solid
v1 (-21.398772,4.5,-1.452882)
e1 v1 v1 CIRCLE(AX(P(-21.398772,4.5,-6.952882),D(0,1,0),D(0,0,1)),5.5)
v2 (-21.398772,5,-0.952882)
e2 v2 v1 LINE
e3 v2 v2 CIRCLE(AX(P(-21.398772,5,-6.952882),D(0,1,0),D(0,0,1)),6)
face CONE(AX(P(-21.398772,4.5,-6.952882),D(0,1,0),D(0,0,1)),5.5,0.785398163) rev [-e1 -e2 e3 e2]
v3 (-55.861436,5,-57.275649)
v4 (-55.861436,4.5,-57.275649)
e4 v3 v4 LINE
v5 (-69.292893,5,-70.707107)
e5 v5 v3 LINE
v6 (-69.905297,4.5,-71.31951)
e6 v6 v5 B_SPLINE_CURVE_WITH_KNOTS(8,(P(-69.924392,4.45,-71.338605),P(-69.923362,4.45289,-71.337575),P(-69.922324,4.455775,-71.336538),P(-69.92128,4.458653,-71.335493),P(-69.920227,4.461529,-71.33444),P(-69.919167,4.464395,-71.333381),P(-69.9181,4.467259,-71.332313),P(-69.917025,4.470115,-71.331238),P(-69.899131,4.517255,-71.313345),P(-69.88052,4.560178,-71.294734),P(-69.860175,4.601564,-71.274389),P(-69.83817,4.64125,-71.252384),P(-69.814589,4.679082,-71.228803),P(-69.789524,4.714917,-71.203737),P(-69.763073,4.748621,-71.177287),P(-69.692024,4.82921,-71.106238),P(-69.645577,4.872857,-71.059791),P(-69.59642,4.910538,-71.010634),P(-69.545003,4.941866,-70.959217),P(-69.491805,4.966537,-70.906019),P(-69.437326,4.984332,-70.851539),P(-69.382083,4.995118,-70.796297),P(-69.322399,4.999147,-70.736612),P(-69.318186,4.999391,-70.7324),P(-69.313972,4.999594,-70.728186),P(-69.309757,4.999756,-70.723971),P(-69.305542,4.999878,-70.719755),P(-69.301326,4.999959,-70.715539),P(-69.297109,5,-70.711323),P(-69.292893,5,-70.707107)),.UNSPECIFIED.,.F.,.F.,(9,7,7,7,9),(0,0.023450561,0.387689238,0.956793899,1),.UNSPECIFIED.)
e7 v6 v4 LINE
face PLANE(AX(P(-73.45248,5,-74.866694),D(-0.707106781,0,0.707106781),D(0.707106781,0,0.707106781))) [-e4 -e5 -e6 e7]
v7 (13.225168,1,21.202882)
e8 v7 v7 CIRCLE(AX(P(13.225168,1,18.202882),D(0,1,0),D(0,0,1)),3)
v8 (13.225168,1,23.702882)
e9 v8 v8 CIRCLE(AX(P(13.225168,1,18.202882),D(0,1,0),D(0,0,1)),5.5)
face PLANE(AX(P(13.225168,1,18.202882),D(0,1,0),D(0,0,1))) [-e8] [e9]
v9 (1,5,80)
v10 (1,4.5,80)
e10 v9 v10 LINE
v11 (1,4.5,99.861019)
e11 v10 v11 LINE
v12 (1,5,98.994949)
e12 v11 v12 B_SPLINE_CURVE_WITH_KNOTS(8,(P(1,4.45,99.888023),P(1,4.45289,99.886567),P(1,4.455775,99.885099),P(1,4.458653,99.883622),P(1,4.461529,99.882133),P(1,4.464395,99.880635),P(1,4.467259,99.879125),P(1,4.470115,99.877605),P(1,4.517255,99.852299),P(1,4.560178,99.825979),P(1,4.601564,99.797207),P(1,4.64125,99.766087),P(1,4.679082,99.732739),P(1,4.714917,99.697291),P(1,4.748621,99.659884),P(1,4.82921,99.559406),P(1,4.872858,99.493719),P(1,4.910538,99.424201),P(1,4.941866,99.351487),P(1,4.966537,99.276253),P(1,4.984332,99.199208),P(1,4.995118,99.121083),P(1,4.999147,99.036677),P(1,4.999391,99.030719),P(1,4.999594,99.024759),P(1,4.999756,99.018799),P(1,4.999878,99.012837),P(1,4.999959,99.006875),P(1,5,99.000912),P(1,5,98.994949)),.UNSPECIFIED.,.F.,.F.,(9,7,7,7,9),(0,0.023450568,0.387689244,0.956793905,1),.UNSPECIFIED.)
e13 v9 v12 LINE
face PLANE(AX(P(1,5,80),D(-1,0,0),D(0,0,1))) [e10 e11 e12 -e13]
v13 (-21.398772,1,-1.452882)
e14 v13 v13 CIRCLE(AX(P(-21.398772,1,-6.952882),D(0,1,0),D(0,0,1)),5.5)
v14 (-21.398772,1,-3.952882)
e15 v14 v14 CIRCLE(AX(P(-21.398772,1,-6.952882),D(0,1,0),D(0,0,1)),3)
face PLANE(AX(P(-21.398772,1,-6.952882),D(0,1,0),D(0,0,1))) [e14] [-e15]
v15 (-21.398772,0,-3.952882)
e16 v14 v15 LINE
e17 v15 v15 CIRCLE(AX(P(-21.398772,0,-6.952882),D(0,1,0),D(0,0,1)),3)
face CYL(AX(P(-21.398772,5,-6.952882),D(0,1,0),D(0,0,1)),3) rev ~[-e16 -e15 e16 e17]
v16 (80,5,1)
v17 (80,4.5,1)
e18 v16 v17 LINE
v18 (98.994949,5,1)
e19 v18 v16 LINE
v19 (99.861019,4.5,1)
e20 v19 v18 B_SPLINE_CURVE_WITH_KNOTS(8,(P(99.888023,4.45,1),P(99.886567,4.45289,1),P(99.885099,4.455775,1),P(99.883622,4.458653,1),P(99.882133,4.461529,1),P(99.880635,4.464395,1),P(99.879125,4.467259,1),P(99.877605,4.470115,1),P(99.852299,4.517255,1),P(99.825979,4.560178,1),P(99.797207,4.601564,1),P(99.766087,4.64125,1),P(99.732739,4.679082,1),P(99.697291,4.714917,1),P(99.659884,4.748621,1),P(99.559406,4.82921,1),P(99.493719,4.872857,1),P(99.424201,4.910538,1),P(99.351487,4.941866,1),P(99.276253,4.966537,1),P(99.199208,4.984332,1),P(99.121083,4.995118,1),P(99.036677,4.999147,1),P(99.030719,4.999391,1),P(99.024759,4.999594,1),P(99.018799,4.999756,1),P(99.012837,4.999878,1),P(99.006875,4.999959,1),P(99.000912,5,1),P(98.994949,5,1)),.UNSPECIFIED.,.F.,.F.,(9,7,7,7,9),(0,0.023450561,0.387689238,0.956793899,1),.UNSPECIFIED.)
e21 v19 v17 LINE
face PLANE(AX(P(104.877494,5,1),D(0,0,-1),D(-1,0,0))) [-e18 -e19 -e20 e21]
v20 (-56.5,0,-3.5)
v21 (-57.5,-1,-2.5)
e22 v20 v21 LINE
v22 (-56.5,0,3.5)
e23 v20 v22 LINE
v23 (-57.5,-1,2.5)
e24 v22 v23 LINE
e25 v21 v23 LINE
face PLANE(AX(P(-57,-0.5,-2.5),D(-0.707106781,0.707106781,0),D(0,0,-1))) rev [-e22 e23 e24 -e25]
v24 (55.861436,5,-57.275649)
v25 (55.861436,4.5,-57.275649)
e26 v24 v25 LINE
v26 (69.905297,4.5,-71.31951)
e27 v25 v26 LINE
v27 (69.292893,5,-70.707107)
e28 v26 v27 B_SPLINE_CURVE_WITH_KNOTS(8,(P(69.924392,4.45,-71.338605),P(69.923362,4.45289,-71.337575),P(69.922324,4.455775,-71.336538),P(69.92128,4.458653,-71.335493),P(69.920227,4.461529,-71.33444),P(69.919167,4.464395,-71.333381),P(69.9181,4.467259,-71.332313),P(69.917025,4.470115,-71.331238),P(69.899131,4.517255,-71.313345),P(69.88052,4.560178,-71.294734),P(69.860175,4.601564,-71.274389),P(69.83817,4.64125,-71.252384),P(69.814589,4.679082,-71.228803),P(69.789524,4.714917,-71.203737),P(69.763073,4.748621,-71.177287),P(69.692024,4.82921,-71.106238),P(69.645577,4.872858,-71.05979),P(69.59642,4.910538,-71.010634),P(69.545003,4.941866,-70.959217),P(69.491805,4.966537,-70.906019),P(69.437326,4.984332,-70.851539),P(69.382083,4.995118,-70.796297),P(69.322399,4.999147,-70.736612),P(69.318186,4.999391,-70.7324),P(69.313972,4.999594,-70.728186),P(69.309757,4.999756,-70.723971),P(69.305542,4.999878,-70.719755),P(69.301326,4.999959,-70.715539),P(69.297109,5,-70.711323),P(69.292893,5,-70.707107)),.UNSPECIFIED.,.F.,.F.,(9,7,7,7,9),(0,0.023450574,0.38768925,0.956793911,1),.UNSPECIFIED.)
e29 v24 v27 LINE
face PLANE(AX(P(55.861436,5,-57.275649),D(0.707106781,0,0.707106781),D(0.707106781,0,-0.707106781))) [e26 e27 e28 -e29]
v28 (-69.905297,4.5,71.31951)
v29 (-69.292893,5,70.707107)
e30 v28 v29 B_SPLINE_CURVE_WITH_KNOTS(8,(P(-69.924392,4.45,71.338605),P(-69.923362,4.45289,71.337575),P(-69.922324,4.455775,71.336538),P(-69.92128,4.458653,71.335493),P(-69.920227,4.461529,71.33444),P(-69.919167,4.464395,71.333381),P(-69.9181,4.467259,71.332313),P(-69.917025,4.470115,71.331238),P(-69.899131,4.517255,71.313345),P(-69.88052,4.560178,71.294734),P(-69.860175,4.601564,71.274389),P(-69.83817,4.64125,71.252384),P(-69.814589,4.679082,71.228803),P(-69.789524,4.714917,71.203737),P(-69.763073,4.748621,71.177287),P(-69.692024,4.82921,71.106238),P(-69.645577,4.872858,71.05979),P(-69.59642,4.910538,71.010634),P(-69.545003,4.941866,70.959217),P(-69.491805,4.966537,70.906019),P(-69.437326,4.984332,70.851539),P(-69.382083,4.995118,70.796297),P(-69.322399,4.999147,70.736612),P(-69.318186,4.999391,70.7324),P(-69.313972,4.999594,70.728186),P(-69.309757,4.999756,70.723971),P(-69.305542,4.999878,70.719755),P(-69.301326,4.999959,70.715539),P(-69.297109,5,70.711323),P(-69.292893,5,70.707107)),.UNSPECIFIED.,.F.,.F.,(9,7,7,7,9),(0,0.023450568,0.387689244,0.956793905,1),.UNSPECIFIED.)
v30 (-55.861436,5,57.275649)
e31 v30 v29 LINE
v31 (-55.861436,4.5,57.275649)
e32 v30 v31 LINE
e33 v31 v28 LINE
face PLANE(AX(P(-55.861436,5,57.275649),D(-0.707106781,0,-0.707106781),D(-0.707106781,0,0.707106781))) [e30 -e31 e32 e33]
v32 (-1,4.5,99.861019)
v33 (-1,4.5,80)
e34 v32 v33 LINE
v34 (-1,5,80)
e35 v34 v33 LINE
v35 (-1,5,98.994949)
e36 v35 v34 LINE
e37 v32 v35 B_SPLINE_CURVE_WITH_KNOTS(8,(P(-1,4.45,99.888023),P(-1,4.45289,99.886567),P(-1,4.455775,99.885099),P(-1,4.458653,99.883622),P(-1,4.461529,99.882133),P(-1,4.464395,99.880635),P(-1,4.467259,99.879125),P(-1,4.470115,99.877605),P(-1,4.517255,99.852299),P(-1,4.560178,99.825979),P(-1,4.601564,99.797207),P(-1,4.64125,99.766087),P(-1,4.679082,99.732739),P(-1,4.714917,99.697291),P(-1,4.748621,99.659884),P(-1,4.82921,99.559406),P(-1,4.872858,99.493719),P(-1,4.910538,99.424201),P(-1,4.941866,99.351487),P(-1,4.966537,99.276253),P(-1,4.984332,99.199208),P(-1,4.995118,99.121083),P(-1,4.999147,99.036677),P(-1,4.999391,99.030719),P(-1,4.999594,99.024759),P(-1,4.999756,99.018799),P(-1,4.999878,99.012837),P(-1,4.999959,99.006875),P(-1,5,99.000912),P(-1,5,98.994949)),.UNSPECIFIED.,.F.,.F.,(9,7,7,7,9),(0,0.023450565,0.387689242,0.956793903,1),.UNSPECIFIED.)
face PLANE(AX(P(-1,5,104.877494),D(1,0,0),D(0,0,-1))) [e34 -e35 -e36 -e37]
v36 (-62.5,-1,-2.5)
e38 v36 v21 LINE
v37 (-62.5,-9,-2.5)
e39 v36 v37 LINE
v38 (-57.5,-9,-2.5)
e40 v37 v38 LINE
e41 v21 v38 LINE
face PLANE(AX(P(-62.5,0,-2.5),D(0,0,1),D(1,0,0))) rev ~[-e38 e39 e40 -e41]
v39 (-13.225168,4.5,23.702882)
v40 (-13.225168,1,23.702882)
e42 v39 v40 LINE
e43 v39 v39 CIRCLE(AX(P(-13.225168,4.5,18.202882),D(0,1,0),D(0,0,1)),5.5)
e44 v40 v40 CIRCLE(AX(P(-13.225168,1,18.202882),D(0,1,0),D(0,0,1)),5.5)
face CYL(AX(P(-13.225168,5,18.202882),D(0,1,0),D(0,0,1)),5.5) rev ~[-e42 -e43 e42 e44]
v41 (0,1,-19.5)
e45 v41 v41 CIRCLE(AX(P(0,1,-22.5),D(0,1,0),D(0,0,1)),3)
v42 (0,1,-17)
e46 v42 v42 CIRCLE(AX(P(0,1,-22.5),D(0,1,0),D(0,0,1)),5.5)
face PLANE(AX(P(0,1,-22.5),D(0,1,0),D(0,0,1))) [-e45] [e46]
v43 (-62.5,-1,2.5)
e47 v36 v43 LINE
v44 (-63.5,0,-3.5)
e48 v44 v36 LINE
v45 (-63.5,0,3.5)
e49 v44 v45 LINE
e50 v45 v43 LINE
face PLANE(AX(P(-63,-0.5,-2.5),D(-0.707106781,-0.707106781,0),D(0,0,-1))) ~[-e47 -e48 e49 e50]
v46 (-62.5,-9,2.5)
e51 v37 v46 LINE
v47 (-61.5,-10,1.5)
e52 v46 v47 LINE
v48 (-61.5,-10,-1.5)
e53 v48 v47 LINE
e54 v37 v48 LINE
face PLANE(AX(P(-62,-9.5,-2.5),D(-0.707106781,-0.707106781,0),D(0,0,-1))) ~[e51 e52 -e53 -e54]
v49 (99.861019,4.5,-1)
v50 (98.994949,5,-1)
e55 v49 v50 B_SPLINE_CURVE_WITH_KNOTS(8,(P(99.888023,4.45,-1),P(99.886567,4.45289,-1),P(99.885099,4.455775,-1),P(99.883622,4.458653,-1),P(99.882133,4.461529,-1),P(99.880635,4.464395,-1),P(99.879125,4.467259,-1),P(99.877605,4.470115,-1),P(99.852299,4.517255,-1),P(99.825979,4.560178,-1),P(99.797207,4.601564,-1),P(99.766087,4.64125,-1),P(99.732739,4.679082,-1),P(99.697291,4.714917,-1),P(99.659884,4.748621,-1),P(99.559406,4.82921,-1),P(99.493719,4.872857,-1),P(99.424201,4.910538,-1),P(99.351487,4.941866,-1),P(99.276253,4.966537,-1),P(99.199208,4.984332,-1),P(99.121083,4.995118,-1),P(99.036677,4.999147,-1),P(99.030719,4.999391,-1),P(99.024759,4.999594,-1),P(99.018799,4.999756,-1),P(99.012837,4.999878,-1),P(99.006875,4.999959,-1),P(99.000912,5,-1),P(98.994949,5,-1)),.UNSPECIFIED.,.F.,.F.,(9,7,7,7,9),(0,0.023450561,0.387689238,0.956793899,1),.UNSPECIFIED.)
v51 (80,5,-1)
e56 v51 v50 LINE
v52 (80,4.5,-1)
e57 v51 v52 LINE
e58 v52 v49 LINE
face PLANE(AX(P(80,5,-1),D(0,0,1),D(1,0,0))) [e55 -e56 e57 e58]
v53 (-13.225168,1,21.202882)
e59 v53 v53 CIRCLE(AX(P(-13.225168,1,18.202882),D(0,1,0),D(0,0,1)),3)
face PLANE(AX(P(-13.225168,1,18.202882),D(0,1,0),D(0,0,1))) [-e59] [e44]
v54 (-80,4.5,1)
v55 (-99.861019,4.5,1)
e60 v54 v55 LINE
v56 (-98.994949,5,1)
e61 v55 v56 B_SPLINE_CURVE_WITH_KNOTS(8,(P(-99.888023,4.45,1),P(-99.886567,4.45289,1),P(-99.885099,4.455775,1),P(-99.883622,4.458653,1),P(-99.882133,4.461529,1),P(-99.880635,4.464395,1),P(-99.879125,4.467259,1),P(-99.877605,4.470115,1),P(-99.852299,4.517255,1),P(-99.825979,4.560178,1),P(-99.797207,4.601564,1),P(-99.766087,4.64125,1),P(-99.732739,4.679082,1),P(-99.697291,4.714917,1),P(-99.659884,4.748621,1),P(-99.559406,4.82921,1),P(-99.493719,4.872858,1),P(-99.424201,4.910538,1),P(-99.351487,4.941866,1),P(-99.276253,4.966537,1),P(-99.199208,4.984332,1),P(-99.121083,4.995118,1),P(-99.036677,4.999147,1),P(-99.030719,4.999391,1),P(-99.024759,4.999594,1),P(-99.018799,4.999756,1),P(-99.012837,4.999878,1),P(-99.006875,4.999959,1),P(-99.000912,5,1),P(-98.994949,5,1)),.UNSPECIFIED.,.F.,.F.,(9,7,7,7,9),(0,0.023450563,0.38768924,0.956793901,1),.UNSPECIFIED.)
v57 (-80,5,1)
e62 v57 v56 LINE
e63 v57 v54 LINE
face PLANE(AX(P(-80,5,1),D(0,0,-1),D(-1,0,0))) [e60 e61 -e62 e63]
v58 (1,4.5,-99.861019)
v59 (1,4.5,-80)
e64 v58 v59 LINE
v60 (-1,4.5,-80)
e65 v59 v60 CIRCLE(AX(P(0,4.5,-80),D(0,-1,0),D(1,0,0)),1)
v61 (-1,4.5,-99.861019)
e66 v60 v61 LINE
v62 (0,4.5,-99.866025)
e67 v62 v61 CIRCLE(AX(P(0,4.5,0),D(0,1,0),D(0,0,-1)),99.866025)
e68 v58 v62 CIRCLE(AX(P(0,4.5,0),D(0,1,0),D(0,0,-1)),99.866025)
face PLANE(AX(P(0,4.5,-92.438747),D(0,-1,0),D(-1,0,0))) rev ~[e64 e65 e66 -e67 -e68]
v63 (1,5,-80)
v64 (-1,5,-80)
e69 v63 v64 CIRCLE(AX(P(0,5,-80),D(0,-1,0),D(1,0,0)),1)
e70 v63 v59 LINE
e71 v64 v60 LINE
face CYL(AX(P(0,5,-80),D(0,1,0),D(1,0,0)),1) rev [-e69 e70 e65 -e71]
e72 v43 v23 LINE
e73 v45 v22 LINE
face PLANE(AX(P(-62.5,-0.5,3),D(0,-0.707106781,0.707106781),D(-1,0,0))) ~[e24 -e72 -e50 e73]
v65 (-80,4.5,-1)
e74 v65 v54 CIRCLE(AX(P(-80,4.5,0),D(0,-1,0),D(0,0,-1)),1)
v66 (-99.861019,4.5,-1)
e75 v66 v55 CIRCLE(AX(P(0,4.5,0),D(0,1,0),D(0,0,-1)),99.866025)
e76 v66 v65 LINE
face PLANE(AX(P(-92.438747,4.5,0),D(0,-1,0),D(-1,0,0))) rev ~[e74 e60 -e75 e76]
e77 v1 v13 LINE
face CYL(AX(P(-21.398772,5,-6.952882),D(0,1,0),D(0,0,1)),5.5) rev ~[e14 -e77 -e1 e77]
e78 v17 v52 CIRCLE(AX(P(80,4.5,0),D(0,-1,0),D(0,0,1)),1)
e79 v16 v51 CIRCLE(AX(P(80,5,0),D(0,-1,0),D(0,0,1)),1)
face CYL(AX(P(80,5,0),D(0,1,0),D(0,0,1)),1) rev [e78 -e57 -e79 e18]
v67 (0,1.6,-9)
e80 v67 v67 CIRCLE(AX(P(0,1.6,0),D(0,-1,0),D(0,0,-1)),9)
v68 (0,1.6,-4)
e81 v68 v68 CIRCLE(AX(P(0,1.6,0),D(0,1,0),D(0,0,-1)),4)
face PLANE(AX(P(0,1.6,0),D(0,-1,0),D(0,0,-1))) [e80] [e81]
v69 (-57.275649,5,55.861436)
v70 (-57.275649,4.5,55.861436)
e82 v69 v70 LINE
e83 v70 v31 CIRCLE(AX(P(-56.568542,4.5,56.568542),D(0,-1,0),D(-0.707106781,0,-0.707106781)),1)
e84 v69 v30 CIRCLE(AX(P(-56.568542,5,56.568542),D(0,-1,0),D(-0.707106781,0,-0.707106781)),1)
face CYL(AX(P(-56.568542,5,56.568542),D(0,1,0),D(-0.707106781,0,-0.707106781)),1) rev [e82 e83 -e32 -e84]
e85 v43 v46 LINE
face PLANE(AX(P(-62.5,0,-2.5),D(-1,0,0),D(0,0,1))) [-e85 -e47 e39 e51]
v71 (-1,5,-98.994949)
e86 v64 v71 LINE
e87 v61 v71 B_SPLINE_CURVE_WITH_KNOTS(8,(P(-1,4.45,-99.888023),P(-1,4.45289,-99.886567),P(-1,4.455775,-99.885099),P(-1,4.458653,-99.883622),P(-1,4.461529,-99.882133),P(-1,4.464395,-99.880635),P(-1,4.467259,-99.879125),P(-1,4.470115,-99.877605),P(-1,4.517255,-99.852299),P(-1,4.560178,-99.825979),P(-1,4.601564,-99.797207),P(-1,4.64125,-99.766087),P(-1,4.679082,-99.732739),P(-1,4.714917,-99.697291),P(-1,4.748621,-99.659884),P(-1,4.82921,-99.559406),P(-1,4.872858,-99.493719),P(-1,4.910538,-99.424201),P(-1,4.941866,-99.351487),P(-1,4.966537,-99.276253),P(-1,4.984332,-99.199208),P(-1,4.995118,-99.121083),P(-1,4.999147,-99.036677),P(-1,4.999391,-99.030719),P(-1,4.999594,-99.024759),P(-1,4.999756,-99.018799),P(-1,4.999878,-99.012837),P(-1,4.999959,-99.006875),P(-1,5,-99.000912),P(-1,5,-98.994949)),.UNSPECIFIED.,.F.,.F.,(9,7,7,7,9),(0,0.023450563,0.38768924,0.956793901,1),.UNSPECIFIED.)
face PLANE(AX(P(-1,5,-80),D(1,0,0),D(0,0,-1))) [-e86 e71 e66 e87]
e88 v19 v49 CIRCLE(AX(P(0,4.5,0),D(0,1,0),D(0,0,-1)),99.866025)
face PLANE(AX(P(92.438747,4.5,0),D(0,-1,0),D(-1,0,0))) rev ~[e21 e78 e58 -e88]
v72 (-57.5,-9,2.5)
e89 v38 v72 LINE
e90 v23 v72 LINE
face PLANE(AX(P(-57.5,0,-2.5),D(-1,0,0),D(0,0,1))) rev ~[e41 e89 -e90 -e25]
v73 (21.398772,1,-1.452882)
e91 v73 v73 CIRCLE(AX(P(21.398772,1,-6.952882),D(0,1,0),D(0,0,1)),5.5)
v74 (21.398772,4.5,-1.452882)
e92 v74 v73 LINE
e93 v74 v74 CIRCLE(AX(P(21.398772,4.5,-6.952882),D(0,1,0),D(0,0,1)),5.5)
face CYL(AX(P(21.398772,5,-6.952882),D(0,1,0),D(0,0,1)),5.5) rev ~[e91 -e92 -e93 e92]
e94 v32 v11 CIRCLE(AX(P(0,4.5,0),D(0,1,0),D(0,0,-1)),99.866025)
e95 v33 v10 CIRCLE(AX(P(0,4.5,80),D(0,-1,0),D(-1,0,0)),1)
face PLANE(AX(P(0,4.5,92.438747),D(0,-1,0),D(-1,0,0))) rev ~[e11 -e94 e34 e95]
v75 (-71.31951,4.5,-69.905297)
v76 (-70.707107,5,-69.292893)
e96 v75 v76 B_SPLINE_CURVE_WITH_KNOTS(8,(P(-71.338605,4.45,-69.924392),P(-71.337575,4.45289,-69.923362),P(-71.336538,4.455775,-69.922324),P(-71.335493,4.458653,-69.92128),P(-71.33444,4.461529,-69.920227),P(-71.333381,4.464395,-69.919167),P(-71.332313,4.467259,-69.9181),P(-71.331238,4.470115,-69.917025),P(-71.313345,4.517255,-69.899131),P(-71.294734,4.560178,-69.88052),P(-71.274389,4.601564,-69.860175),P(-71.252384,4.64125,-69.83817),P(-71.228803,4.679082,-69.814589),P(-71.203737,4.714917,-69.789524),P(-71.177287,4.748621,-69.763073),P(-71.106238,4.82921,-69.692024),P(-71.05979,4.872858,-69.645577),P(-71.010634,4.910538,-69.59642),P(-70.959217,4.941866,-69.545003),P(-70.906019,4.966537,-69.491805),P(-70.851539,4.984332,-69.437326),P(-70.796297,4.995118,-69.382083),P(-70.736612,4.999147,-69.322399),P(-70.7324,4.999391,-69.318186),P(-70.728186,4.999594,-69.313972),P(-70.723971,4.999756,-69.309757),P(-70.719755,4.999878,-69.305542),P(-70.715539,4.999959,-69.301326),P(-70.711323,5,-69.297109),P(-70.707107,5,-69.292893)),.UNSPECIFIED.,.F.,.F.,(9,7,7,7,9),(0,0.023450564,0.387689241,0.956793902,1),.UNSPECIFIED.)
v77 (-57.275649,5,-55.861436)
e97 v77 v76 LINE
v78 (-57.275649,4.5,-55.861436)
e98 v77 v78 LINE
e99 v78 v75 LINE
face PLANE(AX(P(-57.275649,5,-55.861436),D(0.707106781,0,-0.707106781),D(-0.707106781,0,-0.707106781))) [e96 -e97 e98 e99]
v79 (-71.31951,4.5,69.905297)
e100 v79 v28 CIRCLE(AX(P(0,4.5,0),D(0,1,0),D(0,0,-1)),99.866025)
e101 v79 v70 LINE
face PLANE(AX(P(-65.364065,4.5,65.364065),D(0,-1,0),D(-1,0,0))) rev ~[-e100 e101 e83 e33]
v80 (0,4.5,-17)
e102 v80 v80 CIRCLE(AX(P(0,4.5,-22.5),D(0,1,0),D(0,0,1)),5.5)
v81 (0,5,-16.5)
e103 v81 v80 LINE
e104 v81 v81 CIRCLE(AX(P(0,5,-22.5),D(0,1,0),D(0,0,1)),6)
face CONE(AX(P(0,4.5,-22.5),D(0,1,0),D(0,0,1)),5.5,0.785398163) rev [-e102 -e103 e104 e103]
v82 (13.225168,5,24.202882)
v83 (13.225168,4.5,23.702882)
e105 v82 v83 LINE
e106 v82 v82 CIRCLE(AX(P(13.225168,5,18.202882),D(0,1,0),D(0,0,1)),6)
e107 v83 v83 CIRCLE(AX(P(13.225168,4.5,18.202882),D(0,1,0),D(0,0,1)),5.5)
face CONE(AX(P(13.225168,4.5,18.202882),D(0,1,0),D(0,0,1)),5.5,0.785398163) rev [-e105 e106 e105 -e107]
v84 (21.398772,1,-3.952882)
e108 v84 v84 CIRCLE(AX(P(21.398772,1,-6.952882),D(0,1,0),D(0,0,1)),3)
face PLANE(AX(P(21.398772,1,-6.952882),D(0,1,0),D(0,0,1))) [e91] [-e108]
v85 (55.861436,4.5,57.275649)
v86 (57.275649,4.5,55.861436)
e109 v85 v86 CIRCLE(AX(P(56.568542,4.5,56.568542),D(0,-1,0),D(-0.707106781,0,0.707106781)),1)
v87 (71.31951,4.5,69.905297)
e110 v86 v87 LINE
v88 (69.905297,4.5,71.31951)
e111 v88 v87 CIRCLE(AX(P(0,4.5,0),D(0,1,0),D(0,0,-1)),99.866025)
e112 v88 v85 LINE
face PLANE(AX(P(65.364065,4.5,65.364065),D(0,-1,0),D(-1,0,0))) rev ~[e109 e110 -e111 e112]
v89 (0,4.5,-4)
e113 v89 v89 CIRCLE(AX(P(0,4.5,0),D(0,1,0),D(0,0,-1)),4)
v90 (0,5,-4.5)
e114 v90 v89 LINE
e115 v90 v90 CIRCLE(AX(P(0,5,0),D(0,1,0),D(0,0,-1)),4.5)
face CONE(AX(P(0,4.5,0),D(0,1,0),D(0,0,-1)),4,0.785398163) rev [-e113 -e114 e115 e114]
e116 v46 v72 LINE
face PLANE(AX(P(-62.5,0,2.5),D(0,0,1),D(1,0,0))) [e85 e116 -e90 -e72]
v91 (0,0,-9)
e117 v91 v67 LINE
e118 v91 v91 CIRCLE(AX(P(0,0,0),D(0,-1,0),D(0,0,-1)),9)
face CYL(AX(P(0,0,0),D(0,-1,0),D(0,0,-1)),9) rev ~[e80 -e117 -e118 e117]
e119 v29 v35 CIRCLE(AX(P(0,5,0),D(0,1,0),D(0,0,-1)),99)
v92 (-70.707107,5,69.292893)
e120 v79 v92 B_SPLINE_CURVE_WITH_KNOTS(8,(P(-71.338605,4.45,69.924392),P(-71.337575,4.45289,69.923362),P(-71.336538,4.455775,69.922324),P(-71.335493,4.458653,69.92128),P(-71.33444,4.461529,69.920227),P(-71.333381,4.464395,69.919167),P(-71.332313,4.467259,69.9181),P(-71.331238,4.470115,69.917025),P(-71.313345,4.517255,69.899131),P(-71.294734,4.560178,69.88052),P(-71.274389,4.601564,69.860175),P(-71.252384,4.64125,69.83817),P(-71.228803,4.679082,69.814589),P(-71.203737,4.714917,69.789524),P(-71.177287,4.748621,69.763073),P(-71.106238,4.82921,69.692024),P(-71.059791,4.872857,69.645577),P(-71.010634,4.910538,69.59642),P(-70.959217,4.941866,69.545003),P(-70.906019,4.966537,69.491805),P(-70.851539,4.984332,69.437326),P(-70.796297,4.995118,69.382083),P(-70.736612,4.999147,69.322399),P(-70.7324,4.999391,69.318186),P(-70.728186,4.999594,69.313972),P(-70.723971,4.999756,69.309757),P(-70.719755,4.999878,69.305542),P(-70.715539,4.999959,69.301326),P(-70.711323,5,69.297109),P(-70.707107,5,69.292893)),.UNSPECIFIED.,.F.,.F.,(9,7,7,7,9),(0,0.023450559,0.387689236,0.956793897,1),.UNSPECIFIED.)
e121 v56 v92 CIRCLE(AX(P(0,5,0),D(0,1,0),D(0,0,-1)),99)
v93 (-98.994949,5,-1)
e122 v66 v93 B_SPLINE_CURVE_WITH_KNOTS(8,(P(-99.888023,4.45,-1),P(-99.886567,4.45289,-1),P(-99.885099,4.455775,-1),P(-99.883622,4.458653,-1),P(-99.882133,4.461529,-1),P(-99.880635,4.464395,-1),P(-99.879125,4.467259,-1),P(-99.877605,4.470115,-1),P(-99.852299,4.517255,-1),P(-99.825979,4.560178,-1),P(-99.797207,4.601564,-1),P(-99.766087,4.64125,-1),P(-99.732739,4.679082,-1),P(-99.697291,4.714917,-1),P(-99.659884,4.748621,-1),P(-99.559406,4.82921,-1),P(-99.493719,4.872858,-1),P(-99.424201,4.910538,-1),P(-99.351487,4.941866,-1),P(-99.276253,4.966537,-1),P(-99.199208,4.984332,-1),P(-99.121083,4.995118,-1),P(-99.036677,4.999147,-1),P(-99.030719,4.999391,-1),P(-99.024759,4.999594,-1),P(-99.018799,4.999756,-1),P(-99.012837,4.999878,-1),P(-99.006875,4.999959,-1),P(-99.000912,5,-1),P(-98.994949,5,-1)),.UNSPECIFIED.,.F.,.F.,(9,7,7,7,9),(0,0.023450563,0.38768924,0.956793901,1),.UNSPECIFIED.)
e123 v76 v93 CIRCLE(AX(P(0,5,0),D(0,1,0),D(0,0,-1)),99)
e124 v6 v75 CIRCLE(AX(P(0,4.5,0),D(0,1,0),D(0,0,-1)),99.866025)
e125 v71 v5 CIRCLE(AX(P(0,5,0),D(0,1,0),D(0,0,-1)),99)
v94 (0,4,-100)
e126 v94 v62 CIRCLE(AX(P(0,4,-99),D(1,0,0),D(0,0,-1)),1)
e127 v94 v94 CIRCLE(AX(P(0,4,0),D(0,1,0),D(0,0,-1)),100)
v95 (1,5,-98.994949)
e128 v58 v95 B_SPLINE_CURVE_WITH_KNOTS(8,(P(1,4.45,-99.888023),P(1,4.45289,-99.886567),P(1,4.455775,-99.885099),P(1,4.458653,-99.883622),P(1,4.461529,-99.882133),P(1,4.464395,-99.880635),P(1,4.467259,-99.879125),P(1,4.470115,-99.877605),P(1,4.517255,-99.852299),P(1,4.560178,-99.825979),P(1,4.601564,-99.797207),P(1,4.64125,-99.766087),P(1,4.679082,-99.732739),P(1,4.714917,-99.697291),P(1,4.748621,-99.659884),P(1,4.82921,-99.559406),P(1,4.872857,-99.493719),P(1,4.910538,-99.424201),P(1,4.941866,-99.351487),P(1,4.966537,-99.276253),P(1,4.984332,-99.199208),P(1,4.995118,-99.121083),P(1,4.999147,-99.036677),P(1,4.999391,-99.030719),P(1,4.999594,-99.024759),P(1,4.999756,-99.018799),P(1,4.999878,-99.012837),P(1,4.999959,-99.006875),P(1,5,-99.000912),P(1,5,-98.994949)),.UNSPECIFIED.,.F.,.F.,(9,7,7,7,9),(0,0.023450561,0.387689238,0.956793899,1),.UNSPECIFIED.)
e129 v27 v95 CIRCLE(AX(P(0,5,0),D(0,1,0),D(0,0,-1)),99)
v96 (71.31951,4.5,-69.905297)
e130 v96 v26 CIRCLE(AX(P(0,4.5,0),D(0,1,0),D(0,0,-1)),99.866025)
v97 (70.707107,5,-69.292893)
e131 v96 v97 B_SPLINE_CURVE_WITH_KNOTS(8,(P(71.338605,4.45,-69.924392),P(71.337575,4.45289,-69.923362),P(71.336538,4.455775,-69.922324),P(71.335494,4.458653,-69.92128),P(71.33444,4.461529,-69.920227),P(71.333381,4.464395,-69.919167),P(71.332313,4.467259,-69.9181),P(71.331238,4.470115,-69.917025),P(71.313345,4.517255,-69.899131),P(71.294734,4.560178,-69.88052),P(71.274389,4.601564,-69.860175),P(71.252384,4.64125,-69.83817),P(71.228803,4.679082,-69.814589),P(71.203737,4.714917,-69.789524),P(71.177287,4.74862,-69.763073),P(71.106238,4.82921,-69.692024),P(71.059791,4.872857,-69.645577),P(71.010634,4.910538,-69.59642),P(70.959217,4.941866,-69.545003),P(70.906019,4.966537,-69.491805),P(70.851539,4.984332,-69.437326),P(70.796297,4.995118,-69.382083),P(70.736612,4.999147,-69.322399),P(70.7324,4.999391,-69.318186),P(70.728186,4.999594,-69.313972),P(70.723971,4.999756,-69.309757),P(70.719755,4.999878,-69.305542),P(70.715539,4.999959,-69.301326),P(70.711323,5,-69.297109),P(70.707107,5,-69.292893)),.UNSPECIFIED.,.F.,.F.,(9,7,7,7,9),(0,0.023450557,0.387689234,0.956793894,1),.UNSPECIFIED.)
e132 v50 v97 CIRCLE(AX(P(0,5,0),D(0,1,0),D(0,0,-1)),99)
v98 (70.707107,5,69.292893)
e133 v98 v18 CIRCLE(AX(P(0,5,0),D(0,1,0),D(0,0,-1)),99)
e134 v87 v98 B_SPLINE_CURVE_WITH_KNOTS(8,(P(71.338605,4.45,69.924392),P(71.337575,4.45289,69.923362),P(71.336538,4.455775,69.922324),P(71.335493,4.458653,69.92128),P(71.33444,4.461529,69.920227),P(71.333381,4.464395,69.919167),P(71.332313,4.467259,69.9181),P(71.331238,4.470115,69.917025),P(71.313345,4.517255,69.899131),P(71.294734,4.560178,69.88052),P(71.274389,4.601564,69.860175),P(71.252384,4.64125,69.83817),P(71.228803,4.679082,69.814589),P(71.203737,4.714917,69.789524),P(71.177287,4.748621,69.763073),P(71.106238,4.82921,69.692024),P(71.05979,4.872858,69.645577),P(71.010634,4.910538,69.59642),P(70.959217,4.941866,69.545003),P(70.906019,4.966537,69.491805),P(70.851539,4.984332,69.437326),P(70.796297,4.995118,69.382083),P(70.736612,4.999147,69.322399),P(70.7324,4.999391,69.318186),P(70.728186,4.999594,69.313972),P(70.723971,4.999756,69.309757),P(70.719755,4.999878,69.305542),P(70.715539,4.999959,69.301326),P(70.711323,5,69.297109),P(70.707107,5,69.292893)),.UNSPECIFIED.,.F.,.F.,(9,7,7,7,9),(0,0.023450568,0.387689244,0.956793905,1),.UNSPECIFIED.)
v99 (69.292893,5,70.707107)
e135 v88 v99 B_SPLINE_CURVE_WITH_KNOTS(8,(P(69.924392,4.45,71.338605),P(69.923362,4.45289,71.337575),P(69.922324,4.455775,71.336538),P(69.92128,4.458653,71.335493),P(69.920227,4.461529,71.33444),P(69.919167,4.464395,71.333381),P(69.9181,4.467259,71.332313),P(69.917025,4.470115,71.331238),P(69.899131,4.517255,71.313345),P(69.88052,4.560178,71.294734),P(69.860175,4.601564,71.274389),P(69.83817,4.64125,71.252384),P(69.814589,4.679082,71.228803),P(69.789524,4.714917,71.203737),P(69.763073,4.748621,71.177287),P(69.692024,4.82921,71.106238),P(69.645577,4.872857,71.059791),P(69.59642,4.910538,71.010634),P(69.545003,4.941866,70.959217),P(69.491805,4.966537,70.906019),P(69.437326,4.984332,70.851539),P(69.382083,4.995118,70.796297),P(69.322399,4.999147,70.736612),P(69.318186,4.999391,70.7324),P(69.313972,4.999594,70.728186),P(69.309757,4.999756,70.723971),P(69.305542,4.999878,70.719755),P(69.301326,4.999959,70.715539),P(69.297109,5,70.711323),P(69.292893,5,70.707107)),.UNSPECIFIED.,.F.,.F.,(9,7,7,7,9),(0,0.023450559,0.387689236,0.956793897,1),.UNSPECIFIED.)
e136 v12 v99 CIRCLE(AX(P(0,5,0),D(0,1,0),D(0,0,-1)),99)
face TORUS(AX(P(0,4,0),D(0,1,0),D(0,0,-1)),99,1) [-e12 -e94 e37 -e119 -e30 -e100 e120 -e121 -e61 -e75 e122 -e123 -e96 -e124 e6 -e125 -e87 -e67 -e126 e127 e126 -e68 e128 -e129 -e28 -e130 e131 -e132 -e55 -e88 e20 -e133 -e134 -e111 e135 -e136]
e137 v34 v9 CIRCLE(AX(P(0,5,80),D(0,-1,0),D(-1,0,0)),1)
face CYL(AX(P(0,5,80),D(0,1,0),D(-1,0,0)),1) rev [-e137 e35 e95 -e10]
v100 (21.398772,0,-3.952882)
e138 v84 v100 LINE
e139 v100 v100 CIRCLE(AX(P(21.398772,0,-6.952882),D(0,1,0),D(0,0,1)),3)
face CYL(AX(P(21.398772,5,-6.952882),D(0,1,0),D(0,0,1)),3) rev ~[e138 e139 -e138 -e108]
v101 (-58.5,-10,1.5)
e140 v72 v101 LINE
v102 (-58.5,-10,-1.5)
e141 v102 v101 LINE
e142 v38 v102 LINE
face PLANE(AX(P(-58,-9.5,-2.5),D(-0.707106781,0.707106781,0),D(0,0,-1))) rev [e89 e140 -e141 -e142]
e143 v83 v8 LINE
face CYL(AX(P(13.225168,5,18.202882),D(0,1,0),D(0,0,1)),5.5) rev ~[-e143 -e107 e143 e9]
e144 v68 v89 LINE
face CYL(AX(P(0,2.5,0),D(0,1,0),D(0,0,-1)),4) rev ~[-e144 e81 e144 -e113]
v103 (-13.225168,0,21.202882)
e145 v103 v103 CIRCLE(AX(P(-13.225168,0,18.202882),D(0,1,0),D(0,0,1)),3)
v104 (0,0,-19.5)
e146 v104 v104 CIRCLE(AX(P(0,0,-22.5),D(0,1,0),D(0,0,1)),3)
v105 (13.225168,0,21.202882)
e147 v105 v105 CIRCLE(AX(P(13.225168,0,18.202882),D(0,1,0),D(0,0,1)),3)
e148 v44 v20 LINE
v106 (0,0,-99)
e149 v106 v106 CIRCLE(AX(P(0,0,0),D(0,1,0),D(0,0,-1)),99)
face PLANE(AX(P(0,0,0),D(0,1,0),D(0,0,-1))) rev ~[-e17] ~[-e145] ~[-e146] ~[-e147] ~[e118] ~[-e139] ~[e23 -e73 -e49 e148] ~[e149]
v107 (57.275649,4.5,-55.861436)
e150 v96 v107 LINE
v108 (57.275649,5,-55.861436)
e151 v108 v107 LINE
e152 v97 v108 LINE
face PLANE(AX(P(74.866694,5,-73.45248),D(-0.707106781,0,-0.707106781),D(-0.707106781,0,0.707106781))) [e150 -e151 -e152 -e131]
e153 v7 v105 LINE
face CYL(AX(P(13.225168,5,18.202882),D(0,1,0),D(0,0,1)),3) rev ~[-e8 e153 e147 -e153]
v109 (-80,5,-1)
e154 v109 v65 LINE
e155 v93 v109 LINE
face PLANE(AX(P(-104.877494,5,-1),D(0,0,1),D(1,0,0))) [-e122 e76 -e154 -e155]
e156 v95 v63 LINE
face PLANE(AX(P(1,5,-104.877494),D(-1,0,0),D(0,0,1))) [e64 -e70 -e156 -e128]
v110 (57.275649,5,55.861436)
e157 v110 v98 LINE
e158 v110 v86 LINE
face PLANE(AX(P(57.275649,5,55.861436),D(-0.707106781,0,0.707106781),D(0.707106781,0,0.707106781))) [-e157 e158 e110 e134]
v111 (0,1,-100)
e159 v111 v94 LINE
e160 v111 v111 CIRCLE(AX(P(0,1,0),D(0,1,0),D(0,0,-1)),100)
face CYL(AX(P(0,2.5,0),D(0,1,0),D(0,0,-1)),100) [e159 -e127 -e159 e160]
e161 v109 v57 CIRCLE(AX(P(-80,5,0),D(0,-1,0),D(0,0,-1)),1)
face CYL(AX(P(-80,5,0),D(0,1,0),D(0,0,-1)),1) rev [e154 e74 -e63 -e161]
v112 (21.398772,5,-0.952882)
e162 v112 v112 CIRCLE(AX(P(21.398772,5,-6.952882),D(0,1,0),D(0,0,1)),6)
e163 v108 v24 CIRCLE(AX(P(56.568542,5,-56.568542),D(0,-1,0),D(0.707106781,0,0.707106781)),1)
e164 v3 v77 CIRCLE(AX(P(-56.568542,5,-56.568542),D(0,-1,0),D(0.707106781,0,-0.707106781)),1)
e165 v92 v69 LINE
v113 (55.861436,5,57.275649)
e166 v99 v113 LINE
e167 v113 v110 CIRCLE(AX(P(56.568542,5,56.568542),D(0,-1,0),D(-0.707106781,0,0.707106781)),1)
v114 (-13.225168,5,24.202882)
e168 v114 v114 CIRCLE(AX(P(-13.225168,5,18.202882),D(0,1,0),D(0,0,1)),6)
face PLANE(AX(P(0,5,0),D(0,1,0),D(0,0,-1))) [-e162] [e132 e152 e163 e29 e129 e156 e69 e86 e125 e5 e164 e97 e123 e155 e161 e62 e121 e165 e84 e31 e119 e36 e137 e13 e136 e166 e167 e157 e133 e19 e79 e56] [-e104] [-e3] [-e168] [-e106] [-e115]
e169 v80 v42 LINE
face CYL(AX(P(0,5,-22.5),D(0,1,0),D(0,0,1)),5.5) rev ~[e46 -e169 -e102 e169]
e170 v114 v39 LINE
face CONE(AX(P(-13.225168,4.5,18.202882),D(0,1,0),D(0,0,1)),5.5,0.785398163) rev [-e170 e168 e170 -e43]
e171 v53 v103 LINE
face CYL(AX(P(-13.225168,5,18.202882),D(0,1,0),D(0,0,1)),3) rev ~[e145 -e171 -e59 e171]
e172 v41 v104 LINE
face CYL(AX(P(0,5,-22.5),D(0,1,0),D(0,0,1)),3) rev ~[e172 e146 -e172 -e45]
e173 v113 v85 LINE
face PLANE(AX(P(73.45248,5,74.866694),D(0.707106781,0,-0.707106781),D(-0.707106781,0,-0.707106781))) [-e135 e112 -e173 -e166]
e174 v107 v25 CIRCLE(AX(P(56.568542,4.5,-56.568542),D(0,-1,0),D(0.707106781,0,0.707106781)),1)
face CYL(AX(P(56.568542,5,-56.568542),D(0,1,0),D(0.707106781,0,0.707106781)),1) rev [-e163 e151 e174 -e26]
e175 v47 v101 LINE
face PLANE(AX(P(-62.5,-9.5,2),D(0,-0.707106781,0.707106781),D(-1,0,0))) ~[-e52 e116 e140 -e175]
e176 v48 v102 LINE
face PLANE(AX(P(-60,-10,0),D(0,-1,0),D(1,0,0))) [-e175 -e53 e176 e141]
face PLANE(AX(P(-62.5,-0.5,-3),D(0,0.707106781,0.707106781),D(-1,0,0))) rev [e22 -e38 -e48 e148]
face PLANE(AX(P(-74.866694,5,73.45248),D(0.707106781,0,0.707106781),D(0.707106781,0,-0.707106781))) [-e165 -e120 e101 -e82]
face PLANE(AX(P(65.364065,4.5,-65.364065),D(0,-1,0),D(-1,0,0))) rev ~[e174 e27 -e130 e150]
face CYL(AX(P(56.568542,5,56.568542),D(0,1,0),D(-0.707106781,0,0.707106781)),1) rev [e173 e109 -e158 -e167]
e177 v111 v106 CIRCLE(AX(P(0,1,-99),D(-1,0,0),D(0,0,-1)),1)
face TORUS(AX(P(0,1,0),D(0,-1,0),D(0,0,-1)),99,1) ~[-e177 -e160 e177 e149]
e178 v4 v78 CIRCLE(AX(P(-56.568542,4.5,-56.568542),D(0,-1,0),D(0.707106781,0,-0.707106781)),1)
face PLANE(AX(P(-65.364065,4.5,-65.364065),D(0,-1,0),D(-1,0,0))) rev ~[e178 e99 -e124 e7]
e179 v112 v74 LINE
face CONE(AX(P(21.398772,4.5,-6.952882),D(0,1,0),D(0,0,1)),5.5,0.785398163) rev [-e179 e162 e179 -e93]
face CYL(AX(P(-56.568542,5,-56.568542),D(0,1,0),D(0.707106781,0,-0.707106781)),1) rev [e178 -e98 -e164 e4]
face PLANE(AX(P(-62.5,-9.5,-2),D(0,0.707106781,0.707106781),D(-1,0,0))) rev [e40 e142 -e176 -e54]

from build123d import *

# Parameters (mm, degrees)
SKICA1_W                 = 96
SKICA1_H                 = 5
SKICA2_R                 = 3
ODEBRAT_VYSUNUT_M1_DEPTH = 5
ZAOBLIT1_R               = 1
SKICA3_R                 = 5.5
ODEBRAT_VYSUNUT_M2_DEPTH = 4
ZKOSEN_2_SIZE            = 0.5
SKICA4_R                 = 9
ODEBRAT_VYSUNUT_M3_DEPTH = 1.6
ZKOSEN_3_SIZE            = 0.5
SKICA5_W                 = 5
SKICA5_H                 = 5
P_IDAT_VYSUNUT_M1_DEPTH  = 10
ZKOSEN_8_SIZE            = 1
ODEBRAT_VYSUNUT_M4_DEPTH = 0.5


with BuildPart() as part:
    # Skica1 → Rotovat1 (revolve)
    with BuildSketch(Plane.XY, mode=Mode.PRIVATE) as rotovat1_sk:
        with Locations((-52, 2.5)):
            Rectangle(SKICA1_W, SKICA1_H)
    revolve(rotovat1_sk.sketch.rotate(Axis((0, 0, 0), (0, 1, 0)), 270), axis=Axis((0, 0, 0), (0, 1, 0)))

    # Skica2 → Odebrat vysunutím1 (cut)
    with BuildSketch(Plane(origin=(0, 5, 0), x_dir=(1, 0, 0), z_dir=(0, 1, 0))):
        with Locations(Location((0, 22.5, 0), (0, 0, 270))):
            Circle(SKICA2_R)
        with Locations(Location((21.398771617, 6.952882373, 0), (0, 0, 270))):
            Circle(SKICA2_R)
        with Locations(Location((13.225168177, -18.202882373, 0), (0, 0, 270))):
            Circle(SKICA2_R)
        with Locations(Location((-13.225168177, -18.202882373, 0), (0, 0, 270))):
            Circle(SKICA2_R)
        with Locations(Location((-21.398771617, 6.952882373, 0), (0, 0, 270))):
            Circle(SKICA2_R)
    extrude(amount=-ODEBRAT_VYSUNUT_M1_DEPTH, mode=Mode.SUBTRACT)

    # Zaoblit1
    zaoblit1_edges = [part.edges().sort_by_distance(p)[0] for p in [
        (0, 0, 100),
        (0, 5, 100),
    ]]
    fillet(zaoblit1_edges, radius=ZAOBLIT1_R)

    # Skica3 → Odebrat vysunutím2 (cut)
    with BuildSketch(Plane(origin=(0, 5, 0), x_dir=(1, 0, 0), z_dir=(0, 1, 0))):
        with Locations(Location((0, 22.5, 0), (0, 0, 270))):
            Circle(SKICA3_R)
        with Locations(Location((21.398771617, 6.952882373, 0), (0, 0, 270))):
            Circle(SKICA3_R)
        with Locations(Location((13.225168177, -18.202882373, 0), (0, 0, 270))):
            Circle(SKICA3_R)
        with Locations(Location((-13.225168177, -18.202882373, 0), (0, 0, 270))):
            Circle(SKICA3_R)
        with Locations(Location((-21.398771617, 6.952882373, 0), (0, 0, 270))):
            Circle(SKICA3_R)
    extrude(amount=-ODEBRAT_VYSUNUT_M2_DEPTH, mode=Mode.SUBTRACT)

    # Zkosení2
    zkosen_2_edges = [part.edges().sort_by_distance(p)[0] for p in [
        (0, 5, -28),
        (21.398771617, 5, -12.452882373),
        (13.225168177, 5, 12.702882373),
        (-13.225168177, 5, 12.702882373),
        (-21.398771617, 5, -12.452882373),
    ]]
    chamfer(zkosen_2_edges, length=ZKOSEN_2_SIZE)

    # Skica4 → Odebrat vysunutím3 (cut)
    with BuildSketch(Plane.XZ):
        with Locations(Location((0, 0, 0), (0, 0, 270))):
            Circle(SKICA4_R)
    extrude(amount=-ODEBRAT_VYSUNUT_M3_DEPTH, mode=Mode.SUBTRACT)

    # Zkosení3
    zkosen_3_edges = [part.edges().sort_by_distance(p)[0] for p in [
        (0, 5, 4),
    ]]
    chamfer(zkosen_3_edges, length=ZKOSEN_3_SIZE)

    # Skica5 → Přidat vysunutím1 (add)
    with BuildSketch(Plane.XZ):
        with Locations((-60, 0)):
            Rectangle(SKICA5_W, SKICA5_H)
    extrude(amount=P_IDAT_VYSUNUT_M1_DEPTH)

    # Zkosení8
    zkosen_8_edges = [part.edges().sort_by_distance(p)[0] for p in [
        (-57.5, 0, 0),
        (-60, 0, 2.5),
        (-62.5, 0, 0),
        (-60, 0, -2.5),
        (-57.5, -10, 0),
        (-60, -10, 2.5),
        (-62.5, -10, 0),
        (-60, -10, -2.5),
    ]]
    chamfer(zkosen_8_edges, length=ZKOSEN_8_SIZE)

    # Skica6 → Odebrat vysunutím4 (cut)
    with BuildSketch(Plane(origin=(0, 5, 0), x_dir=(1, 0, 0), z_dir=(0, 1, 0))):
        with BuildLine():
            Line((-104.877493729, 1), (-80, 1))
            ThreePointArc((-80, 1), (-79, 0), (-80, -1))
            Line((-80, -1), (-104.877493729, -1))
            ThreePointArc((-104.877493729, -1), (-105.877493729, 0), (-104.877493729, 1))
        make_face()
        with BuildLine():
            Line((-73.452480229, 74.866693791), (-55.861435714, 57.275649276))
            ThreePointArc((-55.861435714, 57.275649276), (-55.861435714, 55.861435714), (-57.275649276, 55.861435714))
            Line((-57.275649276, 55.861435714), (-74.866693791, 73.452480229))
            ThreePointArc((-74.866693791, 73.452480229), (-74.866693791, 74.866693791), (-73.452480229, 74.866693791))
        make_face()
        with BuildLine():
            Line((1, 104.877493729), (1, 80))
            ThreePointArc((1, 80), (0, 79), (-1, 80))
            Line((-1, 80), (-1, 104.877493729))
            ThreePointArc((-1, 104.877493729), (0, 105.877493729), (1, 104.877493729))
        make_face()
        with BuildLine():
            Line((74.866693791, 73.452480229), (57.275649276, 55.861435714))
            ThreePointArc((57.275649276, 55.861435714), (55.861435714, 55.861435714), (55.861435714, 57.275649276))
            Line((55.861435714, 57.275649276), (73.452480229, 74.866693791))
            ThreePointArc((73.452480229, 74.866693791), (74.866693791, 74.866693791), (74.866693791, 73.452480229))
        make_face()
        with BuildLine():
            Line((104.877493729, -1), (80, -1))
            ThreePointArc((80, -1), (79, 0), (80, 1))
            Line((80, 1), (104.877493729, 1))
            ThreePointArc((104.877493729, 1), (105.877493729, 0), (104.877493729, -1))
        make_face()
        with BuildLine():
            Line((73.452480229, -74.866693791), (55.861435714, -57.275649276))
            ThreePointArc((55.861435714, -57.275649276), (55.861435714, -55.861435714), (57.275649276, -55.861435714))
            Line((57.275649276, -55.861435714), (74.866693791, -73.452480229))
            ThreePointArc((74.866693791, -73.452480229), (74.866693791, -74.866693791), (73.452480229, -74.866693791))
        make_face()
        with BuildLine():
            Line((-1, -104.877493729), (-1, -80))
            ThreePointArc((-1, -80), (0, -79), (1, -80))
            Line((1, -80), (1, -104.877493729))
            ThreePointArc((1, -104.877493729), (0, -105.877493729), (-1, -104.877493729))
        make_face()
        with BuildLine():
            Line((-74.866693791, -73.452480229), (-57.275649276, -55.861435714))
            ThreePointArc((-57.275649276, -55.861435714), (-55.861435714, -55.861435714), (-55.861435714, -57.275649276))
            Line((-55.861435714, -57.275649276), (-73.452480229, -74.866693791))
            ThreePointArc((-73.452480229, -74.866693791), (-74.866693791, -74.866693791), (-74.866693791, -73.452480229))
        make_face()
    extrude(amount=-ODEBRAT_VYSUNUT_M4_DEPTH, mode=Mode.SUBTRACT)


solid = part.part
